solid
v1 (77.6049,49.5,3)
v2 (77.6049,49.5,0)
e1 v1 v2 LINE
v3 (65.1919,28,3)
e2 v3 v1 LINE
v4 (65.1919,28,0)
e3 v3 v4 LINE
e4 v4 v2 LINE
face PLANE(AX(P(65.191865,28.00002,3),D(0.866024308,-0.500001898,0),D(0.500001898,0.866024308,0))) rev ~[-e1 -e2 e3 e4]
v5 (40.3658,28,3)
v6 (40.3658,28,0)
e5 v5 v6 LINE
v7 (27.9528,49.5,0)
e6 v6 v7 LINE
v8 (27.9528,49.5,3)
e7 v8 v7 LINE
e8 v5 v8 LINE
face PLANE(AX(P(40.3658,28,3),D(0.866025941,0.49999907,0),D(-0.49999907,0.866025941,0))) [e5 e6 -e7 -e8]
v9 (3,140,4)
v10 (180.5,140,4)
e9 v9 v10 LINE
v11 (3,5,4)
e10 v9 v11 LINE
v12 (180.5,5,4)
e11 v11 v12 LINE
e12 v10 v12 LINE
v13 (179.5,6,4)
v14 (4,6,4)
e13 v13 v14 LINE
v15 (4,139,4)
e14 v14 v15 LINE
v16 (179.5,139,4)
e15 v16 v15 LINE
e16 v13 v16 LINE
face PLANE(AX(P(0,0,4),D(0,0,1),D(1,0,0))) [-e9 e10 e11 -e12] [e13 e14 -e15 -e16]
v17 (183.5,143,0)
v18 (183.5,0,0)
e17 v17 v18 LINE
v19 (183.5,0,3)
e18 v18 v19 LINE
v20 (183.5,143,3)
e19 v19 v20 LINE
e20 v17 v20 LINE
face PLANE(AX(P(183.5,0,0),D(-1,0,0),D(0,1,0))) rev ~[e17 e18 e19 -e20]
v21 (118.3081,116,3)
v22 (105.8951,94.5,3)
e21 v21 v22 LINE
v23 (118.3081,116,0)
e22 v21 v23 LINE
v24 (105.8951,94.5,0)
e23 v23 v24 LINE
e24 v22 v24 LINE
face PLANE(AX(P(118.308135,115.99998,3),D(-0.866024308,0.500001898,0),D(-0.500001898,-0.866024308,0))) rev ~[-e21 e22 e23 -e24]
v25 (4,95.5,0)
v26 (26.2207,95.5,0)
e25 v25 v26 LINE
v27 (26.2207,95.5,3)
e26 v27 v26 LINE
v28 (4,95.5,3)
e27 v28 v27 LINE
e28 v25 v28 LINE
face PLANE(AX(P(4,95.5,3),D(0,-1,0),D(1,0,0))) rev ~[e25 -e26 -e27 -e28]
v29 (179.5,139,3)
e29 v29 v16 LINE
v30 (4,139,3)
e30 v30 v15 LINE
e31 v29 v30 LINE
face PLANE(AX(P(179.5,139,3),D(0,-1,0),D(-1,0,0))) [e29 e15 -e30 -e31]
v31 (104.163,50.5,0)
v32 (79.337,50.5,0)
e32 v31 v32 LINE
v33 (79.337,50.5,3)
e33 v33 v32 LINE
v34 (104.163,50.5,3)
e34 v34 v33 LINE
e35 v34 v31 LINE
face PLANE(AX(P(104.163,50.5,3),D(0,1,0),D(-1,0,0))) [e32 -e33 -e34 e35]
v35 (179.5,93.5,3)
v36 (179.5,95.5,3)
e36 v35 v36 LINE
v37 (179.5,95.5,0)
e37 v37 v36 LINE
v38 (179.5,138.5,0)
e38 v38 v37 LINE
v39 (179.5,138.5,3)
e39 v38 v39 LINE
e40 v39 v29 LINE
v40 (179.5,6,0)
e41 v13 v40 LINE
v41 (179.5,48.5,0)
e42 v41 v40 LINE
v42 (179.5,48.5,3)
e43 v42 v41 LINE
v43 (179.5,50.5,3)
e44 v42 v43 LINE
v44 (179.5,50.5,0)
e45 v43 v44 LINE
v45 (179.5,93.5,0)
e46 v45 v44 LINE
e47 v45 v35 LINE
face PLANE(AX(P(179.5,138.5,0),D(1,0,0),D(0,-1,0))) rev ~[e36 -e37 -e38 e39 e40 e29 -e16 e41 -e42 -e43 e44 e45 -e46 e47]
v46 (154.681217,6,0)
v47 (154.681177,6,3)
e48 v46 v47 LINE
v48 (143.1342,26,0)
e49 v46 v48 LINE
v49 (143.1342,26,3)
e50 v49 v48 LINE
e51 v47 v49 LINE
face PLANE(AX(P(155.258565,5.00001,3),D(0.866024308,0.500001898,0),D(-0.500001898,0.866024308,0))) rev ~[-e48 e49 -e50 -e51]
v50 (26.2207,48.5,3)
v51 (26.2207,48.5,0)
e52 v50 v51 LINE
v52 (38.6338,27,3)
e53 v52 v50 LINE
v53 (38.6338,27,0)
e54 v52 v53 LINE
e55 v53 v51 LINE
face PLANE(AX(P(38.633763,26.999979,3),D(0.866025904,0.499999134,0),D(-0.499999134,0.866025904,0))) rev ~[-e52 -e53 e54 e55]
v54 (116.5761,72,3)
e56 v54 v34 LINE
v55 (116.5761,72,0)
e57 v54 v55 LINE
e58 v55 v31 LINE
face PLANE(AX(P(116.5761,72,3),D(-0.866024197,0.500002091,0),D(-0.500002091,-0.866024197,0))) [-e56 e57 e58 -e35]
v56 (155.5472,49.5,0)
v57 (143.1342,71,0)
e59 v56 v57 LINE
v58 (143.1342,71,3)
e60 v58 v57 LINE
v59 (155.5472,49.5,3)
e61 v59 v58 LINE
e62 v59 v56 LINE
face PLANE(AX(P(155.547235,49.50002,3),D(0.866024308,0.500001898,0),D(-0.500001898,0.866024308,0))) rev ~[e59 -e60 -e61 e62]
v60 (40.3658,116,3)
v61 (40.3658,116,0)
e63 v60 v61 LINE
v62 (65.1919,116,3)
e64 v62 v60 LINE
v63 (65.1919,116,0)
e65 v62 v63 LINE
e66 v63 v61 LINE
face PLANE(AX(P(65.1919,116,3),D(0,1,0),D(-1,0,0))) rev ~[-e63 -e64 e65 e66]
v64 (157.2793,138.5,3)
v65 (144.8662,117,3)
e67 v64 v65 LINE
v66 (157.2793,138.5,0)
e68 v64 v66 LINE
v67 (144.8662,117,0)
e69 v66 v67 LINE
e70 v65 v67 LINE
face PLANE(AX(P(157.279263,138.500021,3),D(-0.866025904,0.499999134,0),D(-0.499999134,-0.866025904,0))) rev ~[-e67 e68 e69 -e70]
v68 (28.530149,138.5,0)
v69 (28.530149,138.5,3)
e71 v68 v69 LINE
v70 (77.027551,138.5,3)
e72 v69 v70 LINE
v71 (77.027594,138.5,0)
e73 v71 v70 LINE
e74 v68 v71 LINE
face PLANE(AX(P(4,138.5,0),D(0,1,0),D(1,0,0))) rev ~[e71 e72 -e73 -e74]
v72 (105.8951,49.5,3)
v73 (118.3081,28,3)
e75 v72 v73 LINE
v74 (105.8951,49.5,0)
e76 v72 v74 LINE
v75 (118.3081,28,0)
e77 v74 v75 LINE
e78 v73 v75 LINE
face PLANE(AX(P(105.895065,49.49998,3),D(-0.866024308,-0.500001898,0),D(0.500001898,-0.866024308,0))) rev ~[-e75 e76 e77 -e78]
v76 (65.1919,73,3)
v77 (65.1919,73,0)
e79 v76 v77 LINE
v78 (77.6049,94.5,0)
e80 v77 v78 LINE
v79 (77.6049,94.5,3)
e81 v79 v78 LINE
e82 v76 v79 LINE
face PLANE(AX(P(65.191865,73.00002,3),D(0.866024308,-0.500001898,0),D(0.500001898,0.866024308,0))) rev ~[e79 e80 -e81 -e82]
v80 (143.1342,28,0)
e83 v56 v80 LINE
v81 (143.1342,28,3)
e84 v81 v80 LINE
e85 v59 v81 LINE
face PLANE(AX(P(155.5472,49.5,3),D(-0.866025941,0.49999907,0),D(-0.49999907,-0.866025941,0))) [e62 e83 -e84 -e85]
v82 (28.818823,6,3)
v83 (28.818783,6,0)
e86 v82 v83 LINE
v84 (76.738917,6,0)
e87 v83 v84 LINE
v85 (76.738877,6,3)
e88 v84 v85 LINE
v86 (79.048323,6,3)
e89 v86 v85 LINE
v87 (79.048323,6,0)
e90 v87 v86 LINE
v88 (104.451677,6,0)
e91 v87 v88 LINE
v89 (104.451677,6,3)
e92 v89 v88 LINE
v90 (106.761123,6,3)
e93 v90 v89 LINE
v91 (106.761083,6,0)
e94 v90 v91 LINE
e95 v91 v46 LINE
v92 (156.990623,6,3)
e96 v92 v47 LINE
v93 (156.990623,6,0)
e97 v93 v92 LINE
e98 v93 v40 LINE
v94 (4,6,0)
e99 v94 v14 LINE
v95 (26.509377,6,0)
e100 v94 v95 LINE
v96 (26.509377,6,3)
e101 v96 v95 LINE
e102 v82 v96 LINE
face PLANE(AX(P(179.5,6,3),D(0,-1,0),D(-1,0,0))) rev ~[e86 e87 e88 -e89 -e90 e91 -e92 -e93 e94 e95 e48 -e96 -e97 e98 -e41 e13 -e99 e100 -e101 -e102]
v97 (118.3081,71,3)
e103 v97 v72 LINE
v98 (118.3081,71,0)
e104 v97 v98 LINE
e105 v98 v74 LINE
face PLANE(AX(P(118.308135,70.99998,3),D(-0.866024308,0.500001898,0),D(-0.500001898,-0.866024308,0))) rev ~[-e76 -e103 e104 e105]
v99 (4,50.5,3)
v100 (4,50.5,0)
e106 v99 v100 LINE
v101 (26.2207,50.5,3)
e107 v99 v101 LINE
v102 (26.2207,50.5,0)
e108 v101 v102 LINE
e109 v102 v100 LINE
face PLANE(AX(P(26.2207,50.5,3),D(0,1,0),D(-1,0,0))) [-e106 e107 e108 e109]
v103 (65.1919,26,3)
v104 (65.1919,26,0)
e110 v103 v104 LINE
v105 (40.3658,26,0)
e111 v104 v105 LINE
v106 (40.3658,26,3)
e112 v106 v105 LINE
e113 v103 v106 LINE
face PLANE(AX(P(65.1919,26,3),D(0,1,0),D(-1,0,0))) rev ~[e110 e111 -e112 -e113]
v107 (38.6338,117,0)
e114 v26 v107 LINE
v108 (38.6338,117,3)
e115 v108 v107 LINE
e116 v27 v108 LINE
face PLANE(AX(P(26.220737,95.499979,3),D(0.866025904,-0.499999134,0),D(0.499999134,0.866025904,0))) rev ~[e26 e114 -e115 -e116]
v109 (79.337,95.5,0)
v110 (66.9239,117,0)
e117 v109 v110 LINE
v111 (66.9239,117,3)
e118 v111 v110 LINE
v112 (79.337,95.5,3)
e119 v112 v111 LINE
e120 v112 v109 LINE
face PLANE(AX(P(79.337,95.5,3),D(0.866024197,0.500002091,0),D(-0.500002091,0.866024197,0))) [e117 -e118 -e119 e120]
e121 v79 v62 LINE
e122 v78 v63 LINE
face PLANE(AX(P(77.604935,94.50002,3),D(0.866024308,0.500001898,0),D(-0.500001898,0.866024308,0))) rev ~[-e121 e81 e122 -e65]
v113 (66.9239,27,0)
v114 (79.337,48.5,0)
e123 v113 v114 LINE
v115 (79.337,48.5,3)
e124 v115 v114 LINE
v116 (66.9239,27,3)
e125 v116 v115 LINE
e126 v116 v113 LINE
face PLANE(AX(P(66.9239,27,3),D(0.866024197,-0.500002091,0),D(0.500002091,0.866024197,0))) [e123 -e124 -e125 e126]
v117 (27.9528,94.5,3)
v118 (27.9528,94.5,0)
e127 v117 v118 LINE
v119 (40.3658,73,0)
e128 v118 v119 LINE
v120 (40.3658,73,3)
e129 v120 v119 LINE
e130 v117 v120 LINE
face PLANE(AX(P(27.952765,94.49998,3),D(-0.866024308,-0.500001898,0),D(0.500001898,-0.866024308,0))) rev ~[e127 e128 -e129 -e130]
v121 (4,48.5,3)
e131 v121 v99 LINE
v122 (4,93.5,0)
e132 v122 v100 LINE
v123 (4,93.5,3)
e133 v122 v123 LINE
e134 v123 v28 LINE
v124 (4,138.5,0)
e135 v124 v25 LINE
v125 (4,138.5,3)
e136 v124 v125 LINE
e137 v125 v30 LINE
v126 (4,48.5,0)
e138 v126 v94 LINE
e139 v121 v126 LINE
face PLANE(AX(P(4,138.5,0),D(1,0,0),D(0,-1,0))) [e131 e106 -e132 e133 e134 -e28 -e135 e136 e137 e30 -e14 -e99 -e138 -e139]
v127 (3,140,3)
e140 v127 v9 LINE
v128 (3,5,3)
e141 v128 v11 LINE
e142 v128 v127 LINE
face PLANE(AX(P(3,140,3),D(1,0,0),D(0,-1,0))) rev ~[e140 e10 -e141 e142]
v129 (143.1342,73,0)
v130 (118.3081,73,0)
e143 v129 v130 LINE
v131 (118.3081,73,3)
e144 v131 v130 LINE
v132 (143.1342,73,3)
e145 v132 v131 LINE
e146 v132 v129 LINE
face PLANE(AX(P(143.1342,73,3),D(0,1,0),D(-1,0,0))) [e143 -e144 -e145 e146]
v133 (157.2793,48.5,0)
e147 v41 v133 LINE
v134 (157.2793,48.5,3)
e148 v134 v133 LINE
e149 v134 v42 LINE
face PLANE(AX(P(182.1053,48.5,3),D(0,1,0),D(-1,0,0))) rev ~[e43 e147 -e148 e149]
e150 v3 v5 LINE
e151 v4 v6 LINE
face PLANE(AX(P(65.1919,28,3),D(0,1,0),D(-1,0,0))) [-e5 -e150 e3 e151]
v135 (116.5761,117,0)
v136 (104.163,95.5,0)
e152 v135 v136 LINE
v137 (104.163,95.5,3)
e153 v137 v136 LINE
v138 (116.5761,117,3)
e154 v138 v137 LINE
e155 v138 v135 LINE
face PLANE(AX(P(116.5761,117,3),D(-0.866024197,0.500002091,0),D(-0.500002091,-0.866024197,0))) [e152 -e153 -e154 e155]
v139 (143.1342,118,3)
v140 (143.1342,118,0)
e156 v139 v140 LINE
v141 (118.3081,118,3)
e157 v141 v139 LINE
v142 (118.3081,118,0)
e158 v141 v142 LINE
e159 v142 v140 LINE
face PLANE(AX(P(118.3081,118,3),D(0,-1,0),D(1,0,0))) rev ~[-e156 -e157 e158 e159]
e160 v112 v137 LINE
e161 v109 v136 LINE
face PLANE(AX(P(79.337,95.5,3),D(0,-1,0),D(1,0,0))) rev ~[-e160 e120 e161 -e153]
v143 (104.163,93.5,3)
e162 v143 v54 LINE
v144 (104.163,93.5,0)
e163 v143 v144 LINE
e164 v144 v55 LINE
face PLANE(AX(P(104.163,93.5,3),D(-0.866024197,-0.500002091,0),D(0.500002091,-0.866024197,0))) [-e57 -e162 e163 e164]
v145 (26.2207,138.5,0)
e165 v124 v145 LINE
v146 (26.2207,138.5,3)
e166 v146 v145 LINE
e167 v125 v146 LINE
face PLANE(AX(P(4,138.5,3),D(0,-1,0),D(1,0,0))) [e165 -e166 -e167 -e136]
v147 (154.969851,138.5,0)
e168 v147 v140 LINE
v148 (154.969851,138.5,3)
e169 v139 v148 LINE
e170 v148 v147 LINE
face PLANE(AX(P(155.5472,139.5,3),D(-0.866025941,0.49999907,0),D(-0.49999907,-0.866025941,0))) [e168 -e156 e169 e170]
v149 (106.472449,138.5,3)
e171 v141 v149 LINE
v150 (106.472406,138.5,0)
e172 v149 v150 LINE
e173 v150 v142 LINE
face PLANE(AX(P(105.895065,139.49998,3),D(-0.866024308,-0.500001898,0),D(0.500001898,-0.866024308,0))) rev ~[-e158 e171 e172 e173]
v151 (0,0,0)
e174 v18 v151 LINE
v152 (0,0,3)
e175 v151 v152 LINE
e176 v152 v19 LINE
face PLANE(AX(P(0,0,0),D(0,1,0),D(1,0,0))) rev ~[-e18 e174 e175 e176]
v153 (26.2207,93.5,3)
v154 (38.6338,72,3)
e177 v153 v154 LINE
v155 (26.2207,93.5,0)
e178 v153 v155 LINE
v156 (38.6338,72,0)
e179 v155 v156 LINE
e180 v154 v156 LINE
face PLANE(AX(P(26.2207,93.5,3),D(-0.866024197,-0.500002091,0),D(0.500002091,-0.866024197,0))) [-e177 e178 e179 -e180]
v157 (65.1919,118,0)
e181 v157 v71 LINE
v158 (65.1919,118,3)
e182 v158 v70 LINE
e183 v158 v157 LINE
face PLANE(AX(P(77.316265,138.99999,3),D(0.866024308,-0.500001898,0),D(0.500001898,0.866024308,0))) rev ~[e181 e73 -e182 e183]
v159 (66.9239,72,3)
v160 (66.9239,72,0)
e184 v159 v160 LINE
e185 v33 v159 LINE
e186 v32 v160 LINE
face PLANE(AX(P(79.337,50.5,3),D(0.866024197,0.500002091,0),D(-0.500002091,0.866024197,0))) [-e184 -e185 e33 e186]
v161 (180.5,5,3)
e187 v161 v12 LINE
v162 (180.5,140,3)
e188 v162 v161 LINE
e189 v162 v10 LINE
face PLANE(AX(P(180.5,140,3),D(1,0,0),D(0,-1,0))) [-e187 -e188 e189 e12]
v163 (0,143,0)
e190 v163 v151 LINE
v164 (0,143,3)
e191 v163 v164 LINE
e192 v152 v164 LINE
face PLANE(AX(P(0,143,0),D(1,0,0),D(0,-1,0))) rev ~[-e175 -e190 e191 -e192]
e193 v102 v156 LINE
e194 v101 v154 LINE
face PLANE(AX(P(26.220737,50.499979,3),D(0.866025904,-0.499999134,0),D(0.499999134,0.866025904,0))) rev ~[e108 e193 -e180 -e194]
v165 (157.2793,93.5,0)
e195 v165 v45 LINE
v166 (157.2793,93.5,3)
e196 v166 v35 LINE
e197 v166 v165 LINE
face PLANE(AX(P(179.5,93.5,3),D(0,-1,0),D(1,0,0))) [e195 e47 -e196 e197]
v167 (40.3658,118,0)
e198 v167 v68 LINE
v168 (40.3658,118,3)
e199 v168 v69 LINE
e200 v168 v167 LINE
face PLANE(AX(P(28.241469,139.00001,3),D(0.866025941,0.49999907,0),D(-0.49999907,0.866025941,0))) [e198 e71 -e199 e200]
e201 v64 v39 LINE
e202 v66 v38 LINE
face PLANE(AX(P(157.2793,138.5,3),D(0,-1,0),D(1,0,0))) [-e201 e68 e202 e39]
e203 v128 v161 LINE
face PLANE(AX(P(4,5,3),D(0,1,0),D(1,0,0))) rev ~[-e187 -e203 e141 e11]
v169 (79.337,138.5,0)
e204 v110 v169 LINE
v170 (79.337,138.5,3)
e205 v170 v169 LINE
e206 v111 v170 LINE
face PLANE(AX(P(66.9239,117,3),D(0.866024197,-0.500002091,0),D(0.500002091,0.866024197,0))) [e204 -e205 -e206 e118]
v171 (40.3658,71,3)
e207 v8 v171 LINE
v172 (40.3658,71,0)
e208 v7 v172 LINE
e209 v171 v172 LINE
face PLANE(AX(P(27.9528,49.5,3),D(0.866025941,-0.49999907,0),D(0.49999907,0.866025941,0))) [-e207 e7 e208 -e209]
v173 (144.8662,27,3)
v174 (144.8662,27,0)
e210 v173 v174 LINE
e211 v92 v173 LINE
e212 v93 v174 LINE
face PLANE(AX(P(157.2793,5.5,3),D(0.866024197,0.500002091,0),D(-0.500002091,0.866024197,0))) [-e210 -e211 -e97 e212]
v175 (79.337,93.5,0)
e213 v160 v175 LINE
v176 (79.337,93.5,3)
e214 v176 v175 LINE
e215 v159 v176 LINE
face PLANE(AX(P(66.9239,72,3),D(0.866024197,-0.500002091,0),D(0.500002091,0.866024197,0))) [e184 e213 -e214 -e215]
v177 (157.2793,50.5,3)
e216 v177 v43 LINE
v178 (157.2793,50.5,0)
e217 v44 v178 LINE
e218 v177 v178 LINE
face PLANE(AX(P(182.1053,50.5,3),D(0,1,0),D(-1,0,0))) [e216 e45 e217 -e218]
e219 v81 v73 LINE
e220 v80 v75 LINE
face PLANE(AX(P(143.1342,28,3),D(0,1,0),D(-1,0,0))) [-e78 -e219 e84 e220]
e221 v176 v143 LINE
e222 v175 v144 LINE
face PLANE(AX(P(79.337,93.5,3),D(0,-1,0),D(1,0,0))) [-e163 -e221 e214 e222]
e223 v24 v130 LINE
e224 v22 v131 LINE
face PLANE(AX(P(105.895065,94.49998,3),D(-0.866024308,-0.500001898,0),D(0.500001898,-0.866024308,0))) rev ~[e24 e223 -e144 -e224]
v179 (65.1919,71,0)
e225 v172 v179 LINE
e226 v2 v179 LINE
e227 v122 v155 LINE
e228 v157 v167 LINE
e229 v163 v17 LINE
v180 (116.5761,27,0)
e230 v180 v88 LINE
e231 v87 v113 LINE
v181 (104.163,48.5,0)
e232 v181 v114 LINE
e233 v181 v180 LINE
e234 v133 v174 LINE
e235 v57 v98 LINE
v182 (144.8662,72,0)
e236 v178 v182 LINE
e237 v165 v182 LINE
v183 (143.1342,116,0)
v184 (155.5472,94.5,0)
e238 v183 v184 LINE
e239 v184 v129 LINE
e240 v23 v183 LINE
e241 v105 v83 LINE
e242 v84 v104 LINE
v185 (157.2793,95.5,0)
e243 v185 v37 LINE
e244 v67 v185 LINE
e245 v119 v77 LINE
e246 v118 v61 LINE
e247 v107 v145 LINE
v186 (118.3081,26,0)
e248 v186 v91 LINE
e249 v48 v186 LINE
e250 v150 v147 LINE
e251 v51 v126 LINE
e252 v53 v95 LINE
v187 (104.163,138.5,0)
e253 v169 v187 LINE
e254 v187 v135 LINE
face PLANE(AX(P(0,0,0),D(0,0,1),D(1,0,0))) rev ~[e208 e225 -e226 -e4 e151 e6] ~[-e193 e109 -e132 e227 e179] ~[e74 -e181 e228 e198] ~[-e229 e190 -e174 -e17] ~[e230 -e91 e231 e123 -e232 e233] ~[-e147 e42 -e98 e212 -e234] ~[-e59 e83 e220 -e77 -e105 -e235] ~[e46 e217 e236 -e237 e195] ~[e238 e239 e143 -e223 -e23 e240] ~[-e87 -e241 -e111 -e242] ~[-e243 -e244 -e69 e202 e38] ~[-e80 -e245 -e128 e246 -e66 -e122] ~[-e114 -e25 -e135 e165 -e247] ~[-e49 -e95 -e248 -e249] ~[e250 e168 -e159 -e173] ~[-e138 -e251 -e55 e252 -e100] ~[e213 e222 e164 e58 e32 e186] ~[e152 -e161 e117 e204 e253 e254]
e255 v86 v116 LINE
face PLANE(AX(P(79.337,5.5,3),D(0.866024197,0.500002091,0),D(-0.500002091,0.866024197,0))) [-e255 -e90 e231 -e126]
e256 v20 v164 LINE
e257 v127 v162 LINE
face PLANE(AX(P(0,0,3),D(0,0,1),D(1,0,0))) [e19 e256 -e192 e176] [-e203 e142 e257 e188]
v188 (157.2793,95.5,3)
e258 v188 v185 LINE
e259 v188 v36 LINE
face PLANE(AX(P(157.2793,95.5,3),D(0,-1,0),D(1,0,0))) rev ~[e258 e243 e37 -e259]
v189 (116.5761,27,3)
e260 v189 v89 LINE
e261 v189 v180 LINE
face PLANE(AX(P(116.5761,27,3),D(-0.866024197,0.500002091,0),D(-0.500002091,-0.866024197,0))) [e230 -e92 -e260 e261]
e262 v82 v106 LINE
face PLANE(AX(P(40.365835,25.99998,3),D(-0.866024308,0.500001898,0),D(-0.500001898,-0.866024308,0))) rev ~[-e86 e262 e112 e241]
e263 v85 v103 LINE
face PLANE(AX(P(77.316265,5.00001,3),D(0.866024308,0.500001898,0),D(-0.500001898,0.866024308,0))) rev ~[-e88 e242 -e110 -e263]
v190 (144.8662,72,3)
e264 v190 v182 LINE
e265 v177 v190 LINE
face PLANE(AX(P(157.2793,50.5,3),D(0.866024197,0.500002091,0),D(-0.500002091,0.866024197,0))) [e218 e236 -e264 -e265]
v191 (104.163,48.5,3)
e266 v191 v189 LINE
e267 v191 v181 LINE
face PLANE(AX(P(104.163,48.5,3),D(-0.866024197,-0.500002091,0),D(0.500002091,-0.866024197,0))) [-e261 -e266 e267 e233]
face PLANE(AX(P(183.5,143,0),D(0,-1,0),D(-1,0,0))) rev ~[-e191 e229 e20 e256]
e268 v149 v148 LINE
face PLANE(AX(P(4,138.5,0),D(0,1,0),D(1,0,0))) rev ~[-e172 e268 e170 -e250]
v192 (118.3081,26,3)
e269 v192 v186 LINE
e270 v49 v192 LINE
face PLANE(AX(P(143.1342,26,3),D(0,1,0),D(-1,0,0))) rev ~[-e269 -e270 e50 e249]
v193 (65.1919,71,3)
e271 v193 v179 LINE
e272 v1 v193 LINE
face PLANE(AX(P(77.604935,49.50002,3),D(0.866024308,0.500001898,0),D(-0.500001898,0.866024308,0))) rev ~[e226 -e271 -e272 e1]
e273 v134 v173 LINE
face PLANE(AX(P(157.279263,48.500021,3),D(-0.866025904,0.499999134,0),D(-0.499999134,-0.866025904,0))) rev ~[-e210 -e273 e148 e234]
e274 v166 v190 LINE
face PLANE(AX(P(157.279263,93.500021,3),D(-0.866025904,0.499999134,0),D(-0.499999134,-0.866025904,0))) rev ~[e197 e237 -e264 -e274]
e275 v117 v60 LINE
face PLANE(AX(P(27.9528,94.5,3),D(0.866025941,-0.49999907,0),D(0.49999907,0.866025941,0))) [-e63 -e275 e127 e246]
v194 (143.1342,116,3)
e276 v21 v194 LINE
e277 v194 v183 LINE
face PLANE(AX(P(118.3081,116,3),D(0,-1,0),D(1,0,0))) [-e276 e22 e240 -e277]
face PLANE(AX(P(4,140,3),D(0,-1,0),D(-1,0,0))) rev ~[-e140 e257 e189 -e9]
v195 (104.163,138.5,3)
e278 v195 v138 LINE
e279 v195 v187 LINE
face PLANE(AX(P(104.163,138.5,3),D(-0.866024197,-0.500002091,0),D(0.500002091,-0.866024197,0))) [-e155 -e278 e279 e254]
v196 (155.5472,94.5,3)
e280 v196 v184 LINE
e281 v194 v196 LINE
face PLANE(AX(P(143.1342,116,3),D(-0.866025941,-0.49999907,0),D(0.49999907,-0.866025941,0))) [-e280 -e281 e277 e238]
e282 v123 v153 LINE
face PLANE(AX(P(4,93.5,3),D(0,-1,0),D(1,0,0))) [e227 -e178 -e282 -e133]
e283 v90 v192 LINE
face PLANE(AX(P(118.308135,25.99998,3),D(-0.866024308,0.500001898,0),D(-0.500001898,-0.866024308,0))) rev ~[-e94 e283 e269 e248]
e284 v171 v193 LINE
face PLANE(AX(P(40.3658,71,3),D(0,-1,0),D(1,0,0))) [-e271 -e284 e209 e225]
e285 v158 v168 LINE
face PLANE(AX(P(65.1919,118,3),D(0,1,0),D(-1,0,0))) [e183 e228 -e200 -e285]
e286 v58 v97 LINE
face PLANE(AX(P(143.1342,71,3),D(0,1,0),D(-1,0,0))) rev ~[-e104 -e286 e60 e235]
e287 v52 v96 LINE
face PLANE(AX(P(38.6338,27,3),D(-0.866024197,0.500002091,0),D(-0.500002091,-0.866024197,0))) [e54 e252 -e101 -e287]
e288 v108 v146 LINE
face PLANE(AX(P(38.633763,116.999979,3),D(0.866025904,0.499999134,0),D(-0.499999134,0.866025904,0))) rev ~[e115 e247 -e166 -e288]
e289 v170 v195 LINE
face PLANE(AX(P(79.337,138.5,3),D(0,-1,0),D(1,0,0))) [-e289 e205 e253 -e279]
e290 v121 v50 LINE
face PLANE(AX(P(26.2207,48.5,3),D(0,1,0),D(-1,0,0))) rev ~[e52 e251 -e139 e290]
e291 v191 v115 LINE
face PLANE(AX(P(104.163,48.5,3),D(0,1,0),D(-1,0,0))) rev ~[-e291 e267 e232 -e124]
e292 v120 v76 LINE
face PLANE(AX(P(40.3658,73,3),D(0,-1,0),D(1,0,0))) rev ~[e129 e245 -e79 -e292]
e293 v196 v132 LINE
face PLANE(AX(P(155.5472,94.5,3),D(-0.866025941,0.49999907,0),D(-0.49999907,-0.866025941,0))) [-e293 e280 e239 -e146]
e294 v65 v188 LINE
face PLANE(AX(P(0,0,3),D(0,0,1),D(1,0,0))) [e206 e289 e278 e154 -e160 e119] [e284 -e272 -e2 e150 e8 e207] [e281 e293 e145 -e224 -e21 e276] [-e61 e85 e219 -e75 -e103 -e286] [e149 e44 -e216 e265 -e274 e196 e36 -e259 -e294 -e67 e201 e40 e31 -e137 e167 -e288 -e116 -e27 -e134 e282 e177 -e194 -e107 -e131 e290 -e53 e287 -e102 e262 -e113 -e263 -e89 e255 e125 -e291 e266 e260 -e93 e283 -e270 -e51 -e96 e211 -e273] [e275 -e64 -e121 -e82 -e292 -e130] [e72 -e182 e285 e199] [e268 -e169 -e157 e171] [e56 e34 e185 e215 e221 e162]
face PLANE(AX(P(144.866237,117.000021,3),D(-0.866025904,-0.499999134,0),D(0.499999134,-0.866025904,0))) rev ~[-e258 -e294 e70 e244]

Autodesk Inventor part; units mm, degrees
ref_plane "YZ Plane" through (0, 0, 0) normal (1, 0, 0) x (0, 1, 0)
ref_plane "XZ Plane" through (0, 0, 0) normal (0, 1, 0) x (-1, 0, 0)
ref_plane "XY Plane" through (0, 0, 0) normal (0, 0, 1) x (1, 0, 0)
sketch "Sketch1" plane through (0, 0, 0) normal (0, 0, 1) x (1, 0, 0)
  line L0 (0, 0) -> (183.5, 0)
  line L1 (183.5, 0) -> (183.5, 143)
  line L2 (183.5, 143) -> (0, 143)
  line L3 (0, 143) -> (0, 0)
  dimension "d0" = 183.5
  dimension "d1" = 143
extrude "Extrusion1" add sketch "Sketch1" along normal blind 3
sketch "Sketch12" plane through (0, 0, 3) normal (0, 0, 1) x (1, 0, 0)
  line L0 (0, 0) -> (183.5, 0) projected
  line L1 (183.5, 0) -> (183.5, 143) projected
  line L2 (183.5, 143) -> (0, 143) projected
  line L3 (0, 143) -> (0, 0) projected
  line L4 (3, 5) -> (4, 5)
  line L5 (4, 5) -> (4, 140)
  line L6 (4, 140) -> (3, 140)
  line L7 (3, 140) -> (3, 5)
  line L8 (4, 140) -> (179.5, 140)
  line L9 (179.5, 140) -> (179.5, 139)
  line L10 (179.5, 139) -> (4, 139)
  line L11 (4, 139) -> (4, 140)
  line L12 (179.5, 140) -> (180.5, 140)
  line L13 (180.5, 140) -> (180.5, 5)
  line L14 (180.5, 5) -> (179.5, 5)
  line L15 (179.5, 5) -> (179.5, 140)
  dimension "d77" = 3
  dimension "d78" = 1
  dimension "d79" = 5
  dimension "d80" = 3
  dimension "d81" = 1
  dimension "d82" = 3
  dimension "d83" = 1
extrude "Extrusion7" add sketch "Sketch12" along normal blind 1 contours L7 L6 L5 L4 | L5 L8 L9 L10 | L9 L12 L13 L14 L15
sketch "Sketch13" plane through (0, 0, 3) normal (0, 0, 1) x (1, 0, 0)
  line L0 (4, 139) -> (179.5, 139)
  line L1 (179.5, 139) -> (179.5, 5)
  line L2 (179.5, 5) -> (4, 5)
  line L3 (4, 5) -> (4, 139)
  line L4 (91.75, 139) -> (91.75, 5) construction
  line L5 (179.5, 72) -> (4, 72) construction
  line L6 (104.163, 50.5) -> (79.337, 50.5)
  line L7 (79.337, 50.5) -> (66.9239, 72)
  line L8 (66.9239, 72) -> (79.337, 93.5)
  line L9 (79.337, 93.5) -> (104.163, 93.5)
  line L10 (104.163, 93.5) -> (116.5761, 72)
  line L11 (116.5761, 72) -> (104.163, 50.5)
  line L12 (105.3177, 48.5) -> (78.1823, 48.5)
  line L13 (78.1823, 48.5) -> (64.6145, 72)
  line L14 (64.6145, 72) -> (78.1823, 95.5)
  line L15 (78.1823, 95.5) -> (105.3177, 95.5)
  line L16 (105.3177, 95.5) -> (118.8855, 72)
  line L17 (118.8855, 72) -> (105.3177, 48.5)
  line L18 (4, 139) -> (179.5, 139) projected
  line L19 (105.3177, 93.5) -> (78.1823, 93.5)
  line L20 (78.1823, 93.5) -> (64.6145, 117)
  line L21 (64.6145, 117) -> (78.1823, 140.5)
  line L22 (78.1823, 140.5) -> (105.3177, 140.5)
  line L23 (105.3177, 140.5) -> (118.8855, 117)
  line L24 (118.8855, 117) -> (105.3177, 93.5)
  line L25 (104.163, 95.5) -> (79.337, 95.5)
  line L26 (79.337, 95.5) -> (66.9239, 117)
  line L27 (66.9239, 117) -> (79.337, 138.5)
  line L28 (79.337, 138.5) -> (104.163, 138.5)
  line L29 (104.163, 138.5) -> (116.5761, 117)
  line L30 (116.5761, 117) -> (104.163, 95.5)
  line L31 (104.163, 5.5) -> (79.337, 5.5)
  line L32 (79.337, 5.5) -> (66.9239, 27)
  line L33 (66.9239, 27) -> (79.337, 48.5)
  line L34 (79.337, 48.5) -> (104.163, 48.5)
  line L35 (104.163, 48.5) -> (116.5761, 27)
  line L36 (116.5761, 27) -> (104.163, 5.5)
  line L37 (105.3177, 3.5) -> (78.1823, 3.5)
  line L38 (78.1823, 3.5) -> (64.6145, 27)
  line L39 (64.6145, 27) -> (78.1823, 50.5)
  line L40 (78.1823, 50.5) -> (105.3177, 50.5)
  line L41 (105.3177, 50.5) -> (118.8855, 27)
  line L42 (118.8855, 27) -> (105.3177, 3.5)
  line L43 (143.1342, 73) -> (118.3081, 73)
  line L44 (118.3081, 73) -> (105.8951, 94.5)
  line L45 (105.8951, 94.5) -> (118.3081, 116)
  line L46 (118.3081, 116) -> (143.1342, 116)
  line L47 (143.1342, 116) -> (155.5472, 94.5)
  line L48 (155.5472, 94.5) -> (143.1342, 73)
  line L49 (144.2889, 71) -> (117.1534, 71)
  line L50 (117.1534, 71) -> (103.5857, 94.5)
  line L51 (103.5857, 94.5) -> (117.1534, 118)
  line L52 (117.1534, 118) -> (144.2889, 118)
  line L53 (144.2889, 118) -> (157.8566, 94.5)
  line L54 (157.8566, 94.5) -> (144.2889, 71)
  line L55 (39.2111, 163) -> (66.3466, 163)
  line L56 (40.3658, 161) -> (65.1919, 161)
  line L57 (25.6434, 139.5) -> (39.2111, 163)
  line L58 (27.9528, 139.5) -> (40.3658, 161)
  line L59 (40.3658, 118) -> (27.9528, 139.5)
  line L60 (39.2111, 116) -> (25.6434, 139.5)
  line L61 (66.3466, 116) -> (39.2111, 116)
  line L62 (65.1919, 161) -> (77.6049, 139.5)
  line L63 (66.3466, 163) -> (79.9143, 139.5)
  line L64 (77.6049, 139.5) -> (65.1919, 118)
  line L65 (79.9143, 139.5) -> (66.3466, 116)
  line L66 (65.1919, 118) -> (40.3658, 118)
  line L67 (142.5568, 72) -> (156.1246, 95.5)
  line L68 (156.1246, 48.5) -> (142.5568, 72)
  line L69 (157.2793, 50.5) -> (144.8662, 72)
  line L70 (144.8662, 72) -> (157.2793, 93.5)
  line L71 (157.2793, 93.5) -> (182.1053, 93.5)
  line L72 (182.1053, 50.5) -> (157.2793, 50.5)
  line L73 (183.26, 48.5) -> (156.1246, 48.5)
  line L74 (156.1246, 95.5) -> (183.26, 95.5)
  line L75 (194.5183, 72) -> (182.1053, 50.5)
  line L76 (196.8277, 72) -> (183.26, 48.5)
  line L77 (182.1053, 93.5) -> (194.5183, 72)
  line L78 (183.26, 95.5) -> (196.8277, 72)
  line L79 (25.6434, 49.5) -> (39.2111, 73)
  line L80 (39.2111, 26) -> (25.6434, 49.5)
  line L81 (40.3658, 28) -> (27.9528, 49.5)
  line L82 (27.9528, 49.5) -> (40.3658, 71)
  line L83 (40.3658, 71) -> (65.1919, 71)
  line L84 (65.1919, 28) -> (40.3658, 28)
  line L85 (66.3466, 26) -> (39.2111, 26)
  line L86 (39.2111, 73) -> (66.3466, 73)
  line L87 (77.6049, 49.5) -> (65.1919, 28)
  line L88 (79.9143, 49.5) -> (66.3466, 26)
  line L89 (65.1919, 71) -> (77.6049, 49.5)
  line L90 (66.3466, 73) -> (79.9143, 49.5)
  line L91 (-13.3277, 72) -> (0.24, 95.5)
  line L92 (-11.0183, 72) -> (1.3947, 93.5)
  line L93 (0.24, 48.5) -> (-13.3277, 72)
  line L94 (1.3947, 50.5) -> (-11.0183, 72)
  line L95 (1.3947, 93.5) -> (26.2207, 93.5)
  line L96 (26.2207, 50.5) -> (1.3947, 50.5)
  line L97 (27.3754, 48.5) -> (0.24, 48.5)
  line L98 (0.24, 95.5) -> (27.3754, 95.5)
  line L99 (38.6338, 72) -> (26.2207, 50.5)
  line L100 (40.9432, 72) -> (27.3754, 48.5)
  line L101 (26.2207, 93.5) -> (38.6338, 72)
  line L102 (27.3754, 95.5) -> (40.9432, 72)
  line L103 (25.6434, 94.5) -> (39.2111, 118)
  line L104 (39.2111, 71) -> (25.6434, 94.5)
  line L105 (40.3658, 73) -> (27.9528, 94.5)
  line L106 (27.9528, 94.5) -> (40.3658, 116)
  line L107 (40.3658, 116) -> (65.1919, 116)
  line L108 (65.1919, 73) -> (40.3658, 73)
  line L109 (66.3466, 71) -> (39.2111, 71)
  line L110 (39.2111, 118) -> (66.3466, 118)
  line L111 (77.6049, 94.5) -> (65.1919, 73)
  line L112 (79.9143, 94.5) -> (66.3466, 71)
  line L113 (65.1919, 116) -> (77.6049, 94.5)
  line L114 (66.3466, 118) -> (79.9143, 94.5)
  line L115 (117.1534, 26) -> (103.5857, 49.5)
  line L116 (118.3081, 28) -> (105.8951, 49.5)
  line L117 (105.8951, 49.5) -> (118.3081, 71)
  line L118 (143.1342, 28) -> (118.3081, 28)
  line L119 (144.2889, 26) -> (117.1534, 26)
  line L120 (155.5472, 49.5) -> (143.1342, 28)
  line L121 (157.8566, 49.5) -> (144.2889, 26)
  line L122 (118.3081, 71) -> (143.1342, 71)
  line L123 (117.1534, 73) -> (144.2889, 73)
  line L124 (143.1342, 71) -> (155.5472, 49.5)
  line L125 (103.5857, 49.5) -> (117.1534, 73)
  line L126 (144.2889, 73) -> (157.8566, 49.5)
  line L127 (-13.3277, 117) -> (0.24, 140.5)
  line L128 (0.24, 93.5) -> (-13.3277, 117)
  line L129 (1.3947, 95.5) -> (-11.0183, 117)
  line L130 (-11.0183, 117) -> (1.3947, 138.5)
  line L131 (1.3947, 138.5) -> (26.2207, 138.5)
  line L132 (26.2207, 95.5) -> (1.3947, 95.5)
  line L133 (27.3754, 93.5) -> (0.24, 93.5)
  line L134 (0.24, 140.5) -> (27.3754, 140.5)
  line L135 (38.6338, 117) -> (26.2207, 95.5)
  line L136 (40.9432, 117) -> (27.3754, 93.5)
  line L137 (26.2207, 138.5) -> (38.6338, 117)
  line L138 (27.3754, 140.5) -> (40.9432, 117)
  line L139 (103.5857, 139.5) -> (117.1534, 163)
  line L140 (117.1534, 116) -> (103.5857, 139.5)
  line L141 (118.3081, 118) -> (105.8951, 139.5)
  line L142 (105.8951, 139.5) -> (118.3081, 161)
  line L143 (118.3081, 161) -> (143.1342, 161)
  line L144 (143.1342, 118) -> (118.3081, 118)
  line L145 (144.2889, 116) -> (117.1534, 116)
  line L146 (117.1534, 163) -> (144.2889, 163)
  line L147 (155.5472, 139.5) -> (143.1342, 118)
  line L148 (157.8566, 139.5) -> (144.2889, 116)
  line L149 (143.1342, 161) -> (155.5472, 139.5)
  line L150 (144.2889, 163) -> (157.8566, 139.5)
  line L151 (142.5568, 27) -> (156.1246, 50.5)
  line L152 (156.1246, 3.5) -> (142.5568, 27)
  line L153 (157.2793, 5.5) -> (144.8662, 27)
  line L154 (144.8662, 27) -> (157.2793, 48.5)
  line L155 (157.2793, 48.5) -> (182.1053, 48.5)
  line L156 (182.1053, 5.5) -> (157.2793, 5.5)
  line L157 (183.26, 3.5) -> (156.1246, 3.5)
  line L158 (194.5183, 27) -> (182.1053, 5.5)
  line L159 (196.8277, 27) -> (183.26, 3.5)
  line L160 (156.1246, 50.5) -> (183.26, 50.5)
  line L161 (182.1053, 48.5) -> (194.5183, 27)
  line L162 (183.26, 50.5) -> (196.8277, 27)
  line L163 (142.5568, 117) -> (156.1246, 140.5)
  line L164 (156.1246, 93.5) -> (142.5568, 117)
  line L165 (157.2793, 95.5) -> (144.8662, 117)
  line L166 (144.8662, 117) -> (157.2793, 138.5)
  line L167 (157.2793, 138.5) -> (182.1053, 138.5)
  line L168 (182.1053, 95.5) -> (157.2793, 95.5)
  line L169 (183.26, 93.5) -> (156.1246, 93.5)
  line L170 (194.5183, 117) -> (182.1053, 95.5)
  line L171 (196.8277, 117) -> (183.26, 93.5)
  line L172 (156.1246, 140.5) -> (183.26, 140.5)
  line L173 (182.1053, 138.5) -> (194.5183, 117)
  line L174 (183.26, 140.5) -> (196.8277, 117)
  line L175 (103.5857, 4.5) -> (117.1534, 28)
  line L176 (118.3081, 26) -> (143.1342, 26)
  line L177 (105.8951, 4.5) -> (118.3081, 26)
  line L178 (118.3081, -17) -> (105.8951, 4.5)
  line L179 (117.1534, -19) -> (103.5857, 4.5)
  line L180 (143.1342, 26) -> (155.5472, 4.5)
  line L181 (144.2889, 28) -> (157.8566, 4.5)
  line L182 (143.1342, -17) -> (118.3081, -17)
  line L183 (155.5472, 4.5) -> (143.1342, -17)
  line L184 (157.8566, 4.5) -> (144.2889, -19)
  line L185 (144.2889, -19) -> (117.1534, -19)
  line L186 (117.1534, 28) -> (144.2889, 28)
  line L187 (-13.3277, 27) -> (0.24, 50.5)
  line L188 (0.24, 3.5) -> (-13.3277, 27)
  line L189 (1.3947, 5.5) -> (-11.0183, 27)
  line L190 (-11.0183, 27) -> (1.3947, 48.5)
  line L191 (1.3947, 48.5) -> (26.2207, 48.5)
  line L192 (26.2207, 5.5) -> (1.3947, 5.5)
  line L193 (27.3754, 3.5) -> (0.24, 3.5)
  line L194 (0.24, 50.5) -> (27.3754, 50.5)
  line L195 (38.6338, 27) -> (26.2207, 5.5)
  line L196 (40.9432, 27) -> (27.3754, 3.5)
  line L197 (26.2207, 48.5) -> (38.6338, 27)
  line L198 (27.3754, 50.5) -> (40.9432, 27)
  line L199 (25.6434, 4.5) -> (39.2111, 28)
  line L200 (39.2111, -19) -> (25.6434, 4.5)
  line L201 (40.3658, -17) -> (27.9528, 4.5)
  line L202 (27.9528, 4.5) -> (40.3658, 26)
  line L203 (40.3658, 26) -> (65.1919, 26)
  line L204 (65.1919, -17) -> (40.3658, -17)
  line L205 (66.3466, -19) -> (39.2111, -19)
  line L206 (77.6049, 4.5) -> (65.1919, -17)
  line L207 (79.9143, 4.5) -> (66.3466, -19)
  line L208 (39.2111, 28) -> (66.3466, 28)
  line L209 (65.1919, 26) -> (77.6049, 4.5)
  line L210 (66.3466, 28) -> (79.9143, 4.5)
  point P0 (91.75, 72)
  point P1 (91.75, 72)
  point P2 (91.75, 117)
  point P3 (91.75, 117)
  point P4 (91.75, 27)
  point P5 (91.75, 27)
  point P6 (130.7211, 94.5)
  point P7 (130.7211, 94.5)
  point P8 (52.7789, 139.5)
  point P9 (52.7789, 139.5)
  point P10 (169.6923, 72)
  point P11 (169.6923, 72)
  point P12 (52.7789, 49.5)
  point P13 (52.7789, 49.5)
  point P14 (13.8077, 72)
  point P15 (13.8077, 72)
  point P16 (52.7789, 94.5)
  point P17 (52.7789, 94.5)
  point P18 (130.7211, 49.5)
  point P19 (130.7211, 49.5)
  point P20 (13.8077, 117)
  point P21 (13.8077, 117)
  point P22 (130.7211, 139.5)
  point P23 (130.7211, 139.5)
  point P24 (169.6923, 27)
  point P25 (169.6923, 27)
  point P26 (169.6923, 117)
  point P27 (169.6923, 117)
  point P28 (130.7211, 4.5)
  point P29 (130.7211, 4.5)
  point P30 (13.8077, 27)
  point P31 (13.8077, 27)
  point P32 (52.7789, 4.5)
  point P33 (52.7789, 4.5)
  dimension "d86" = 2
  dimension "d88" = 43
  dimension "d89" = 2
  dimension "d90" = 43
  dimension "d93" = 43
  dimension "d94" = 2
  dimension "d95" = 43
  dimension "d96" = 2
  dimension "d97" = 43
  dimension "d98" = 2
  dimension "d99" = 43
  dimension "d100" = 2
  dimension "d101" = 43
  dimension "d102" = 2
  dimension "d103" = 43
  dimension "d104" = 2
  dimension "d105" = 43
  dimension "d106" = 2
  dimension "d107" = 43
  dimension "d108" = 2
  dimension "d109" = 43
  dimension "d110" = 2
  dimension "d111" = 43
  dimension "d112" = 2
  dimension "d113" = 43
  dimension "d114" = 2
  dimension "d115" = 43
  dimension "d116" = 2
  dimension "d117" = 43
  dimension "d118" = 2
  dimension "d119" = 43
  dimension "d120" = 2
  dimension "d121" = 43
  dimension "d122" = 2
extrude "Extrusion9" cut sketch "Sketch13" against normal blind 10 contours L131 L60 L103 L98 L3 | L3 L98 L129 L130 L131 | L59 L58 L56 L62 L21 L0 | L0 L21 L66 L59 | L95 L101 L79 L96 L3 | L3 L96 L94 L92 L95 | L28 L29 L30 L15 L26 L27 | L61 L20 L14 L86 L102 L106 | L97 L80 L195 L192 L3 | L3 L192 L189 L190 L97 | L23 L142 L143 L149 L147 L0 | L0 L147 L52 L23 | L82 L83 L13 L39 L84 L81 | L167 L1 L74 L53 L148 | L46 L47 L48 L43 L16 L24 | L9 L10 L11 L6 L7 L8 | L196 L85 L38 L2 | L2 L38 L206 L204 L201 L196 | L167 L173 L170 L74 L1 | L33 L12 L35 L36 L31 L32 | L71 L77 L75 L72 L1 | L1 L72 L69 L54 L71 | L49 L68 L120 L118 L41 L17 | L42 L119 L152 L2 | L2 L152 L183 L182 L178 L42 | L73 L161 L158 L156 L1 | L1 L156 L153 L121 L73
sketch "Sketch15" plane through (0, 0, 0) normal (0, 0, -1) x (-1, 0, 0)
  line L0 (-152.9491, 0) -> (-183.5, 0) projected
  line L1 (0, 0) -> (-30.5509, 0) projected
  line L2 (-183.5, 143) -> (-179.5, 143)
  line L3 (-179.5, 143) -> (-179.5, 0)
  line L4 (-179.5, 0) -> (-183.5, 0)
  line L5 (-183.5, 0) -> (-183.5, 143)
  line L6 (0, 143) -> (-4, 143)
  line L7 (-4, 143) -> (-4, 0)
  line L8 (-4, 0) -> (0, 0)
  line L9 (0, 0) -> (0, 143)
  line L10 (-179.5, 143) -> (-4, 143)
  line L11 (-4, 143) -> (-4, 138.5)
  line L12 (-4, 138.5) -> (-179.5, 138.5)
  line L13 (-179.5, 138.5) -> (-179.5, 143)
  line L14 (-179.5, 0) -> (-4, 0)
  line L15 (-4, 0) -> (-4, 6)
  line L16 (-4, 6) -> (-179.5, 6)
  line L17 (-179.5, 6) -> (-179.5, 0)
  dimension "d129" = 4.5
  dimension "d130" = 4
  dimension "d131" = 4
  dimension "d132" = 6
extrude "Extrusion10" add sketch "Sketch15" against normal blind 3 contours L0 L3 L16 L7 L1 L14 | L0 L5 L2 L3 | L7 L6 L9 L1 | L3 L10 L7 L12
sketch "Sketch16" plane through (0, 0, 3) normal (0, 0, 1) x (1, 0, 0)
  line L0 (4, 5) -> (179.5, 5)
  line L1 (179.5, 5) -> (179.5, 6)
  line L2 (179.5, 6) -> (4, 6)
  line L3 (4, 6) -> (4, 5)
extrude "Extrusion11" add sketch "Sketch16" along normal blind 1
properties part number "plate" material "ABS Plastic"
